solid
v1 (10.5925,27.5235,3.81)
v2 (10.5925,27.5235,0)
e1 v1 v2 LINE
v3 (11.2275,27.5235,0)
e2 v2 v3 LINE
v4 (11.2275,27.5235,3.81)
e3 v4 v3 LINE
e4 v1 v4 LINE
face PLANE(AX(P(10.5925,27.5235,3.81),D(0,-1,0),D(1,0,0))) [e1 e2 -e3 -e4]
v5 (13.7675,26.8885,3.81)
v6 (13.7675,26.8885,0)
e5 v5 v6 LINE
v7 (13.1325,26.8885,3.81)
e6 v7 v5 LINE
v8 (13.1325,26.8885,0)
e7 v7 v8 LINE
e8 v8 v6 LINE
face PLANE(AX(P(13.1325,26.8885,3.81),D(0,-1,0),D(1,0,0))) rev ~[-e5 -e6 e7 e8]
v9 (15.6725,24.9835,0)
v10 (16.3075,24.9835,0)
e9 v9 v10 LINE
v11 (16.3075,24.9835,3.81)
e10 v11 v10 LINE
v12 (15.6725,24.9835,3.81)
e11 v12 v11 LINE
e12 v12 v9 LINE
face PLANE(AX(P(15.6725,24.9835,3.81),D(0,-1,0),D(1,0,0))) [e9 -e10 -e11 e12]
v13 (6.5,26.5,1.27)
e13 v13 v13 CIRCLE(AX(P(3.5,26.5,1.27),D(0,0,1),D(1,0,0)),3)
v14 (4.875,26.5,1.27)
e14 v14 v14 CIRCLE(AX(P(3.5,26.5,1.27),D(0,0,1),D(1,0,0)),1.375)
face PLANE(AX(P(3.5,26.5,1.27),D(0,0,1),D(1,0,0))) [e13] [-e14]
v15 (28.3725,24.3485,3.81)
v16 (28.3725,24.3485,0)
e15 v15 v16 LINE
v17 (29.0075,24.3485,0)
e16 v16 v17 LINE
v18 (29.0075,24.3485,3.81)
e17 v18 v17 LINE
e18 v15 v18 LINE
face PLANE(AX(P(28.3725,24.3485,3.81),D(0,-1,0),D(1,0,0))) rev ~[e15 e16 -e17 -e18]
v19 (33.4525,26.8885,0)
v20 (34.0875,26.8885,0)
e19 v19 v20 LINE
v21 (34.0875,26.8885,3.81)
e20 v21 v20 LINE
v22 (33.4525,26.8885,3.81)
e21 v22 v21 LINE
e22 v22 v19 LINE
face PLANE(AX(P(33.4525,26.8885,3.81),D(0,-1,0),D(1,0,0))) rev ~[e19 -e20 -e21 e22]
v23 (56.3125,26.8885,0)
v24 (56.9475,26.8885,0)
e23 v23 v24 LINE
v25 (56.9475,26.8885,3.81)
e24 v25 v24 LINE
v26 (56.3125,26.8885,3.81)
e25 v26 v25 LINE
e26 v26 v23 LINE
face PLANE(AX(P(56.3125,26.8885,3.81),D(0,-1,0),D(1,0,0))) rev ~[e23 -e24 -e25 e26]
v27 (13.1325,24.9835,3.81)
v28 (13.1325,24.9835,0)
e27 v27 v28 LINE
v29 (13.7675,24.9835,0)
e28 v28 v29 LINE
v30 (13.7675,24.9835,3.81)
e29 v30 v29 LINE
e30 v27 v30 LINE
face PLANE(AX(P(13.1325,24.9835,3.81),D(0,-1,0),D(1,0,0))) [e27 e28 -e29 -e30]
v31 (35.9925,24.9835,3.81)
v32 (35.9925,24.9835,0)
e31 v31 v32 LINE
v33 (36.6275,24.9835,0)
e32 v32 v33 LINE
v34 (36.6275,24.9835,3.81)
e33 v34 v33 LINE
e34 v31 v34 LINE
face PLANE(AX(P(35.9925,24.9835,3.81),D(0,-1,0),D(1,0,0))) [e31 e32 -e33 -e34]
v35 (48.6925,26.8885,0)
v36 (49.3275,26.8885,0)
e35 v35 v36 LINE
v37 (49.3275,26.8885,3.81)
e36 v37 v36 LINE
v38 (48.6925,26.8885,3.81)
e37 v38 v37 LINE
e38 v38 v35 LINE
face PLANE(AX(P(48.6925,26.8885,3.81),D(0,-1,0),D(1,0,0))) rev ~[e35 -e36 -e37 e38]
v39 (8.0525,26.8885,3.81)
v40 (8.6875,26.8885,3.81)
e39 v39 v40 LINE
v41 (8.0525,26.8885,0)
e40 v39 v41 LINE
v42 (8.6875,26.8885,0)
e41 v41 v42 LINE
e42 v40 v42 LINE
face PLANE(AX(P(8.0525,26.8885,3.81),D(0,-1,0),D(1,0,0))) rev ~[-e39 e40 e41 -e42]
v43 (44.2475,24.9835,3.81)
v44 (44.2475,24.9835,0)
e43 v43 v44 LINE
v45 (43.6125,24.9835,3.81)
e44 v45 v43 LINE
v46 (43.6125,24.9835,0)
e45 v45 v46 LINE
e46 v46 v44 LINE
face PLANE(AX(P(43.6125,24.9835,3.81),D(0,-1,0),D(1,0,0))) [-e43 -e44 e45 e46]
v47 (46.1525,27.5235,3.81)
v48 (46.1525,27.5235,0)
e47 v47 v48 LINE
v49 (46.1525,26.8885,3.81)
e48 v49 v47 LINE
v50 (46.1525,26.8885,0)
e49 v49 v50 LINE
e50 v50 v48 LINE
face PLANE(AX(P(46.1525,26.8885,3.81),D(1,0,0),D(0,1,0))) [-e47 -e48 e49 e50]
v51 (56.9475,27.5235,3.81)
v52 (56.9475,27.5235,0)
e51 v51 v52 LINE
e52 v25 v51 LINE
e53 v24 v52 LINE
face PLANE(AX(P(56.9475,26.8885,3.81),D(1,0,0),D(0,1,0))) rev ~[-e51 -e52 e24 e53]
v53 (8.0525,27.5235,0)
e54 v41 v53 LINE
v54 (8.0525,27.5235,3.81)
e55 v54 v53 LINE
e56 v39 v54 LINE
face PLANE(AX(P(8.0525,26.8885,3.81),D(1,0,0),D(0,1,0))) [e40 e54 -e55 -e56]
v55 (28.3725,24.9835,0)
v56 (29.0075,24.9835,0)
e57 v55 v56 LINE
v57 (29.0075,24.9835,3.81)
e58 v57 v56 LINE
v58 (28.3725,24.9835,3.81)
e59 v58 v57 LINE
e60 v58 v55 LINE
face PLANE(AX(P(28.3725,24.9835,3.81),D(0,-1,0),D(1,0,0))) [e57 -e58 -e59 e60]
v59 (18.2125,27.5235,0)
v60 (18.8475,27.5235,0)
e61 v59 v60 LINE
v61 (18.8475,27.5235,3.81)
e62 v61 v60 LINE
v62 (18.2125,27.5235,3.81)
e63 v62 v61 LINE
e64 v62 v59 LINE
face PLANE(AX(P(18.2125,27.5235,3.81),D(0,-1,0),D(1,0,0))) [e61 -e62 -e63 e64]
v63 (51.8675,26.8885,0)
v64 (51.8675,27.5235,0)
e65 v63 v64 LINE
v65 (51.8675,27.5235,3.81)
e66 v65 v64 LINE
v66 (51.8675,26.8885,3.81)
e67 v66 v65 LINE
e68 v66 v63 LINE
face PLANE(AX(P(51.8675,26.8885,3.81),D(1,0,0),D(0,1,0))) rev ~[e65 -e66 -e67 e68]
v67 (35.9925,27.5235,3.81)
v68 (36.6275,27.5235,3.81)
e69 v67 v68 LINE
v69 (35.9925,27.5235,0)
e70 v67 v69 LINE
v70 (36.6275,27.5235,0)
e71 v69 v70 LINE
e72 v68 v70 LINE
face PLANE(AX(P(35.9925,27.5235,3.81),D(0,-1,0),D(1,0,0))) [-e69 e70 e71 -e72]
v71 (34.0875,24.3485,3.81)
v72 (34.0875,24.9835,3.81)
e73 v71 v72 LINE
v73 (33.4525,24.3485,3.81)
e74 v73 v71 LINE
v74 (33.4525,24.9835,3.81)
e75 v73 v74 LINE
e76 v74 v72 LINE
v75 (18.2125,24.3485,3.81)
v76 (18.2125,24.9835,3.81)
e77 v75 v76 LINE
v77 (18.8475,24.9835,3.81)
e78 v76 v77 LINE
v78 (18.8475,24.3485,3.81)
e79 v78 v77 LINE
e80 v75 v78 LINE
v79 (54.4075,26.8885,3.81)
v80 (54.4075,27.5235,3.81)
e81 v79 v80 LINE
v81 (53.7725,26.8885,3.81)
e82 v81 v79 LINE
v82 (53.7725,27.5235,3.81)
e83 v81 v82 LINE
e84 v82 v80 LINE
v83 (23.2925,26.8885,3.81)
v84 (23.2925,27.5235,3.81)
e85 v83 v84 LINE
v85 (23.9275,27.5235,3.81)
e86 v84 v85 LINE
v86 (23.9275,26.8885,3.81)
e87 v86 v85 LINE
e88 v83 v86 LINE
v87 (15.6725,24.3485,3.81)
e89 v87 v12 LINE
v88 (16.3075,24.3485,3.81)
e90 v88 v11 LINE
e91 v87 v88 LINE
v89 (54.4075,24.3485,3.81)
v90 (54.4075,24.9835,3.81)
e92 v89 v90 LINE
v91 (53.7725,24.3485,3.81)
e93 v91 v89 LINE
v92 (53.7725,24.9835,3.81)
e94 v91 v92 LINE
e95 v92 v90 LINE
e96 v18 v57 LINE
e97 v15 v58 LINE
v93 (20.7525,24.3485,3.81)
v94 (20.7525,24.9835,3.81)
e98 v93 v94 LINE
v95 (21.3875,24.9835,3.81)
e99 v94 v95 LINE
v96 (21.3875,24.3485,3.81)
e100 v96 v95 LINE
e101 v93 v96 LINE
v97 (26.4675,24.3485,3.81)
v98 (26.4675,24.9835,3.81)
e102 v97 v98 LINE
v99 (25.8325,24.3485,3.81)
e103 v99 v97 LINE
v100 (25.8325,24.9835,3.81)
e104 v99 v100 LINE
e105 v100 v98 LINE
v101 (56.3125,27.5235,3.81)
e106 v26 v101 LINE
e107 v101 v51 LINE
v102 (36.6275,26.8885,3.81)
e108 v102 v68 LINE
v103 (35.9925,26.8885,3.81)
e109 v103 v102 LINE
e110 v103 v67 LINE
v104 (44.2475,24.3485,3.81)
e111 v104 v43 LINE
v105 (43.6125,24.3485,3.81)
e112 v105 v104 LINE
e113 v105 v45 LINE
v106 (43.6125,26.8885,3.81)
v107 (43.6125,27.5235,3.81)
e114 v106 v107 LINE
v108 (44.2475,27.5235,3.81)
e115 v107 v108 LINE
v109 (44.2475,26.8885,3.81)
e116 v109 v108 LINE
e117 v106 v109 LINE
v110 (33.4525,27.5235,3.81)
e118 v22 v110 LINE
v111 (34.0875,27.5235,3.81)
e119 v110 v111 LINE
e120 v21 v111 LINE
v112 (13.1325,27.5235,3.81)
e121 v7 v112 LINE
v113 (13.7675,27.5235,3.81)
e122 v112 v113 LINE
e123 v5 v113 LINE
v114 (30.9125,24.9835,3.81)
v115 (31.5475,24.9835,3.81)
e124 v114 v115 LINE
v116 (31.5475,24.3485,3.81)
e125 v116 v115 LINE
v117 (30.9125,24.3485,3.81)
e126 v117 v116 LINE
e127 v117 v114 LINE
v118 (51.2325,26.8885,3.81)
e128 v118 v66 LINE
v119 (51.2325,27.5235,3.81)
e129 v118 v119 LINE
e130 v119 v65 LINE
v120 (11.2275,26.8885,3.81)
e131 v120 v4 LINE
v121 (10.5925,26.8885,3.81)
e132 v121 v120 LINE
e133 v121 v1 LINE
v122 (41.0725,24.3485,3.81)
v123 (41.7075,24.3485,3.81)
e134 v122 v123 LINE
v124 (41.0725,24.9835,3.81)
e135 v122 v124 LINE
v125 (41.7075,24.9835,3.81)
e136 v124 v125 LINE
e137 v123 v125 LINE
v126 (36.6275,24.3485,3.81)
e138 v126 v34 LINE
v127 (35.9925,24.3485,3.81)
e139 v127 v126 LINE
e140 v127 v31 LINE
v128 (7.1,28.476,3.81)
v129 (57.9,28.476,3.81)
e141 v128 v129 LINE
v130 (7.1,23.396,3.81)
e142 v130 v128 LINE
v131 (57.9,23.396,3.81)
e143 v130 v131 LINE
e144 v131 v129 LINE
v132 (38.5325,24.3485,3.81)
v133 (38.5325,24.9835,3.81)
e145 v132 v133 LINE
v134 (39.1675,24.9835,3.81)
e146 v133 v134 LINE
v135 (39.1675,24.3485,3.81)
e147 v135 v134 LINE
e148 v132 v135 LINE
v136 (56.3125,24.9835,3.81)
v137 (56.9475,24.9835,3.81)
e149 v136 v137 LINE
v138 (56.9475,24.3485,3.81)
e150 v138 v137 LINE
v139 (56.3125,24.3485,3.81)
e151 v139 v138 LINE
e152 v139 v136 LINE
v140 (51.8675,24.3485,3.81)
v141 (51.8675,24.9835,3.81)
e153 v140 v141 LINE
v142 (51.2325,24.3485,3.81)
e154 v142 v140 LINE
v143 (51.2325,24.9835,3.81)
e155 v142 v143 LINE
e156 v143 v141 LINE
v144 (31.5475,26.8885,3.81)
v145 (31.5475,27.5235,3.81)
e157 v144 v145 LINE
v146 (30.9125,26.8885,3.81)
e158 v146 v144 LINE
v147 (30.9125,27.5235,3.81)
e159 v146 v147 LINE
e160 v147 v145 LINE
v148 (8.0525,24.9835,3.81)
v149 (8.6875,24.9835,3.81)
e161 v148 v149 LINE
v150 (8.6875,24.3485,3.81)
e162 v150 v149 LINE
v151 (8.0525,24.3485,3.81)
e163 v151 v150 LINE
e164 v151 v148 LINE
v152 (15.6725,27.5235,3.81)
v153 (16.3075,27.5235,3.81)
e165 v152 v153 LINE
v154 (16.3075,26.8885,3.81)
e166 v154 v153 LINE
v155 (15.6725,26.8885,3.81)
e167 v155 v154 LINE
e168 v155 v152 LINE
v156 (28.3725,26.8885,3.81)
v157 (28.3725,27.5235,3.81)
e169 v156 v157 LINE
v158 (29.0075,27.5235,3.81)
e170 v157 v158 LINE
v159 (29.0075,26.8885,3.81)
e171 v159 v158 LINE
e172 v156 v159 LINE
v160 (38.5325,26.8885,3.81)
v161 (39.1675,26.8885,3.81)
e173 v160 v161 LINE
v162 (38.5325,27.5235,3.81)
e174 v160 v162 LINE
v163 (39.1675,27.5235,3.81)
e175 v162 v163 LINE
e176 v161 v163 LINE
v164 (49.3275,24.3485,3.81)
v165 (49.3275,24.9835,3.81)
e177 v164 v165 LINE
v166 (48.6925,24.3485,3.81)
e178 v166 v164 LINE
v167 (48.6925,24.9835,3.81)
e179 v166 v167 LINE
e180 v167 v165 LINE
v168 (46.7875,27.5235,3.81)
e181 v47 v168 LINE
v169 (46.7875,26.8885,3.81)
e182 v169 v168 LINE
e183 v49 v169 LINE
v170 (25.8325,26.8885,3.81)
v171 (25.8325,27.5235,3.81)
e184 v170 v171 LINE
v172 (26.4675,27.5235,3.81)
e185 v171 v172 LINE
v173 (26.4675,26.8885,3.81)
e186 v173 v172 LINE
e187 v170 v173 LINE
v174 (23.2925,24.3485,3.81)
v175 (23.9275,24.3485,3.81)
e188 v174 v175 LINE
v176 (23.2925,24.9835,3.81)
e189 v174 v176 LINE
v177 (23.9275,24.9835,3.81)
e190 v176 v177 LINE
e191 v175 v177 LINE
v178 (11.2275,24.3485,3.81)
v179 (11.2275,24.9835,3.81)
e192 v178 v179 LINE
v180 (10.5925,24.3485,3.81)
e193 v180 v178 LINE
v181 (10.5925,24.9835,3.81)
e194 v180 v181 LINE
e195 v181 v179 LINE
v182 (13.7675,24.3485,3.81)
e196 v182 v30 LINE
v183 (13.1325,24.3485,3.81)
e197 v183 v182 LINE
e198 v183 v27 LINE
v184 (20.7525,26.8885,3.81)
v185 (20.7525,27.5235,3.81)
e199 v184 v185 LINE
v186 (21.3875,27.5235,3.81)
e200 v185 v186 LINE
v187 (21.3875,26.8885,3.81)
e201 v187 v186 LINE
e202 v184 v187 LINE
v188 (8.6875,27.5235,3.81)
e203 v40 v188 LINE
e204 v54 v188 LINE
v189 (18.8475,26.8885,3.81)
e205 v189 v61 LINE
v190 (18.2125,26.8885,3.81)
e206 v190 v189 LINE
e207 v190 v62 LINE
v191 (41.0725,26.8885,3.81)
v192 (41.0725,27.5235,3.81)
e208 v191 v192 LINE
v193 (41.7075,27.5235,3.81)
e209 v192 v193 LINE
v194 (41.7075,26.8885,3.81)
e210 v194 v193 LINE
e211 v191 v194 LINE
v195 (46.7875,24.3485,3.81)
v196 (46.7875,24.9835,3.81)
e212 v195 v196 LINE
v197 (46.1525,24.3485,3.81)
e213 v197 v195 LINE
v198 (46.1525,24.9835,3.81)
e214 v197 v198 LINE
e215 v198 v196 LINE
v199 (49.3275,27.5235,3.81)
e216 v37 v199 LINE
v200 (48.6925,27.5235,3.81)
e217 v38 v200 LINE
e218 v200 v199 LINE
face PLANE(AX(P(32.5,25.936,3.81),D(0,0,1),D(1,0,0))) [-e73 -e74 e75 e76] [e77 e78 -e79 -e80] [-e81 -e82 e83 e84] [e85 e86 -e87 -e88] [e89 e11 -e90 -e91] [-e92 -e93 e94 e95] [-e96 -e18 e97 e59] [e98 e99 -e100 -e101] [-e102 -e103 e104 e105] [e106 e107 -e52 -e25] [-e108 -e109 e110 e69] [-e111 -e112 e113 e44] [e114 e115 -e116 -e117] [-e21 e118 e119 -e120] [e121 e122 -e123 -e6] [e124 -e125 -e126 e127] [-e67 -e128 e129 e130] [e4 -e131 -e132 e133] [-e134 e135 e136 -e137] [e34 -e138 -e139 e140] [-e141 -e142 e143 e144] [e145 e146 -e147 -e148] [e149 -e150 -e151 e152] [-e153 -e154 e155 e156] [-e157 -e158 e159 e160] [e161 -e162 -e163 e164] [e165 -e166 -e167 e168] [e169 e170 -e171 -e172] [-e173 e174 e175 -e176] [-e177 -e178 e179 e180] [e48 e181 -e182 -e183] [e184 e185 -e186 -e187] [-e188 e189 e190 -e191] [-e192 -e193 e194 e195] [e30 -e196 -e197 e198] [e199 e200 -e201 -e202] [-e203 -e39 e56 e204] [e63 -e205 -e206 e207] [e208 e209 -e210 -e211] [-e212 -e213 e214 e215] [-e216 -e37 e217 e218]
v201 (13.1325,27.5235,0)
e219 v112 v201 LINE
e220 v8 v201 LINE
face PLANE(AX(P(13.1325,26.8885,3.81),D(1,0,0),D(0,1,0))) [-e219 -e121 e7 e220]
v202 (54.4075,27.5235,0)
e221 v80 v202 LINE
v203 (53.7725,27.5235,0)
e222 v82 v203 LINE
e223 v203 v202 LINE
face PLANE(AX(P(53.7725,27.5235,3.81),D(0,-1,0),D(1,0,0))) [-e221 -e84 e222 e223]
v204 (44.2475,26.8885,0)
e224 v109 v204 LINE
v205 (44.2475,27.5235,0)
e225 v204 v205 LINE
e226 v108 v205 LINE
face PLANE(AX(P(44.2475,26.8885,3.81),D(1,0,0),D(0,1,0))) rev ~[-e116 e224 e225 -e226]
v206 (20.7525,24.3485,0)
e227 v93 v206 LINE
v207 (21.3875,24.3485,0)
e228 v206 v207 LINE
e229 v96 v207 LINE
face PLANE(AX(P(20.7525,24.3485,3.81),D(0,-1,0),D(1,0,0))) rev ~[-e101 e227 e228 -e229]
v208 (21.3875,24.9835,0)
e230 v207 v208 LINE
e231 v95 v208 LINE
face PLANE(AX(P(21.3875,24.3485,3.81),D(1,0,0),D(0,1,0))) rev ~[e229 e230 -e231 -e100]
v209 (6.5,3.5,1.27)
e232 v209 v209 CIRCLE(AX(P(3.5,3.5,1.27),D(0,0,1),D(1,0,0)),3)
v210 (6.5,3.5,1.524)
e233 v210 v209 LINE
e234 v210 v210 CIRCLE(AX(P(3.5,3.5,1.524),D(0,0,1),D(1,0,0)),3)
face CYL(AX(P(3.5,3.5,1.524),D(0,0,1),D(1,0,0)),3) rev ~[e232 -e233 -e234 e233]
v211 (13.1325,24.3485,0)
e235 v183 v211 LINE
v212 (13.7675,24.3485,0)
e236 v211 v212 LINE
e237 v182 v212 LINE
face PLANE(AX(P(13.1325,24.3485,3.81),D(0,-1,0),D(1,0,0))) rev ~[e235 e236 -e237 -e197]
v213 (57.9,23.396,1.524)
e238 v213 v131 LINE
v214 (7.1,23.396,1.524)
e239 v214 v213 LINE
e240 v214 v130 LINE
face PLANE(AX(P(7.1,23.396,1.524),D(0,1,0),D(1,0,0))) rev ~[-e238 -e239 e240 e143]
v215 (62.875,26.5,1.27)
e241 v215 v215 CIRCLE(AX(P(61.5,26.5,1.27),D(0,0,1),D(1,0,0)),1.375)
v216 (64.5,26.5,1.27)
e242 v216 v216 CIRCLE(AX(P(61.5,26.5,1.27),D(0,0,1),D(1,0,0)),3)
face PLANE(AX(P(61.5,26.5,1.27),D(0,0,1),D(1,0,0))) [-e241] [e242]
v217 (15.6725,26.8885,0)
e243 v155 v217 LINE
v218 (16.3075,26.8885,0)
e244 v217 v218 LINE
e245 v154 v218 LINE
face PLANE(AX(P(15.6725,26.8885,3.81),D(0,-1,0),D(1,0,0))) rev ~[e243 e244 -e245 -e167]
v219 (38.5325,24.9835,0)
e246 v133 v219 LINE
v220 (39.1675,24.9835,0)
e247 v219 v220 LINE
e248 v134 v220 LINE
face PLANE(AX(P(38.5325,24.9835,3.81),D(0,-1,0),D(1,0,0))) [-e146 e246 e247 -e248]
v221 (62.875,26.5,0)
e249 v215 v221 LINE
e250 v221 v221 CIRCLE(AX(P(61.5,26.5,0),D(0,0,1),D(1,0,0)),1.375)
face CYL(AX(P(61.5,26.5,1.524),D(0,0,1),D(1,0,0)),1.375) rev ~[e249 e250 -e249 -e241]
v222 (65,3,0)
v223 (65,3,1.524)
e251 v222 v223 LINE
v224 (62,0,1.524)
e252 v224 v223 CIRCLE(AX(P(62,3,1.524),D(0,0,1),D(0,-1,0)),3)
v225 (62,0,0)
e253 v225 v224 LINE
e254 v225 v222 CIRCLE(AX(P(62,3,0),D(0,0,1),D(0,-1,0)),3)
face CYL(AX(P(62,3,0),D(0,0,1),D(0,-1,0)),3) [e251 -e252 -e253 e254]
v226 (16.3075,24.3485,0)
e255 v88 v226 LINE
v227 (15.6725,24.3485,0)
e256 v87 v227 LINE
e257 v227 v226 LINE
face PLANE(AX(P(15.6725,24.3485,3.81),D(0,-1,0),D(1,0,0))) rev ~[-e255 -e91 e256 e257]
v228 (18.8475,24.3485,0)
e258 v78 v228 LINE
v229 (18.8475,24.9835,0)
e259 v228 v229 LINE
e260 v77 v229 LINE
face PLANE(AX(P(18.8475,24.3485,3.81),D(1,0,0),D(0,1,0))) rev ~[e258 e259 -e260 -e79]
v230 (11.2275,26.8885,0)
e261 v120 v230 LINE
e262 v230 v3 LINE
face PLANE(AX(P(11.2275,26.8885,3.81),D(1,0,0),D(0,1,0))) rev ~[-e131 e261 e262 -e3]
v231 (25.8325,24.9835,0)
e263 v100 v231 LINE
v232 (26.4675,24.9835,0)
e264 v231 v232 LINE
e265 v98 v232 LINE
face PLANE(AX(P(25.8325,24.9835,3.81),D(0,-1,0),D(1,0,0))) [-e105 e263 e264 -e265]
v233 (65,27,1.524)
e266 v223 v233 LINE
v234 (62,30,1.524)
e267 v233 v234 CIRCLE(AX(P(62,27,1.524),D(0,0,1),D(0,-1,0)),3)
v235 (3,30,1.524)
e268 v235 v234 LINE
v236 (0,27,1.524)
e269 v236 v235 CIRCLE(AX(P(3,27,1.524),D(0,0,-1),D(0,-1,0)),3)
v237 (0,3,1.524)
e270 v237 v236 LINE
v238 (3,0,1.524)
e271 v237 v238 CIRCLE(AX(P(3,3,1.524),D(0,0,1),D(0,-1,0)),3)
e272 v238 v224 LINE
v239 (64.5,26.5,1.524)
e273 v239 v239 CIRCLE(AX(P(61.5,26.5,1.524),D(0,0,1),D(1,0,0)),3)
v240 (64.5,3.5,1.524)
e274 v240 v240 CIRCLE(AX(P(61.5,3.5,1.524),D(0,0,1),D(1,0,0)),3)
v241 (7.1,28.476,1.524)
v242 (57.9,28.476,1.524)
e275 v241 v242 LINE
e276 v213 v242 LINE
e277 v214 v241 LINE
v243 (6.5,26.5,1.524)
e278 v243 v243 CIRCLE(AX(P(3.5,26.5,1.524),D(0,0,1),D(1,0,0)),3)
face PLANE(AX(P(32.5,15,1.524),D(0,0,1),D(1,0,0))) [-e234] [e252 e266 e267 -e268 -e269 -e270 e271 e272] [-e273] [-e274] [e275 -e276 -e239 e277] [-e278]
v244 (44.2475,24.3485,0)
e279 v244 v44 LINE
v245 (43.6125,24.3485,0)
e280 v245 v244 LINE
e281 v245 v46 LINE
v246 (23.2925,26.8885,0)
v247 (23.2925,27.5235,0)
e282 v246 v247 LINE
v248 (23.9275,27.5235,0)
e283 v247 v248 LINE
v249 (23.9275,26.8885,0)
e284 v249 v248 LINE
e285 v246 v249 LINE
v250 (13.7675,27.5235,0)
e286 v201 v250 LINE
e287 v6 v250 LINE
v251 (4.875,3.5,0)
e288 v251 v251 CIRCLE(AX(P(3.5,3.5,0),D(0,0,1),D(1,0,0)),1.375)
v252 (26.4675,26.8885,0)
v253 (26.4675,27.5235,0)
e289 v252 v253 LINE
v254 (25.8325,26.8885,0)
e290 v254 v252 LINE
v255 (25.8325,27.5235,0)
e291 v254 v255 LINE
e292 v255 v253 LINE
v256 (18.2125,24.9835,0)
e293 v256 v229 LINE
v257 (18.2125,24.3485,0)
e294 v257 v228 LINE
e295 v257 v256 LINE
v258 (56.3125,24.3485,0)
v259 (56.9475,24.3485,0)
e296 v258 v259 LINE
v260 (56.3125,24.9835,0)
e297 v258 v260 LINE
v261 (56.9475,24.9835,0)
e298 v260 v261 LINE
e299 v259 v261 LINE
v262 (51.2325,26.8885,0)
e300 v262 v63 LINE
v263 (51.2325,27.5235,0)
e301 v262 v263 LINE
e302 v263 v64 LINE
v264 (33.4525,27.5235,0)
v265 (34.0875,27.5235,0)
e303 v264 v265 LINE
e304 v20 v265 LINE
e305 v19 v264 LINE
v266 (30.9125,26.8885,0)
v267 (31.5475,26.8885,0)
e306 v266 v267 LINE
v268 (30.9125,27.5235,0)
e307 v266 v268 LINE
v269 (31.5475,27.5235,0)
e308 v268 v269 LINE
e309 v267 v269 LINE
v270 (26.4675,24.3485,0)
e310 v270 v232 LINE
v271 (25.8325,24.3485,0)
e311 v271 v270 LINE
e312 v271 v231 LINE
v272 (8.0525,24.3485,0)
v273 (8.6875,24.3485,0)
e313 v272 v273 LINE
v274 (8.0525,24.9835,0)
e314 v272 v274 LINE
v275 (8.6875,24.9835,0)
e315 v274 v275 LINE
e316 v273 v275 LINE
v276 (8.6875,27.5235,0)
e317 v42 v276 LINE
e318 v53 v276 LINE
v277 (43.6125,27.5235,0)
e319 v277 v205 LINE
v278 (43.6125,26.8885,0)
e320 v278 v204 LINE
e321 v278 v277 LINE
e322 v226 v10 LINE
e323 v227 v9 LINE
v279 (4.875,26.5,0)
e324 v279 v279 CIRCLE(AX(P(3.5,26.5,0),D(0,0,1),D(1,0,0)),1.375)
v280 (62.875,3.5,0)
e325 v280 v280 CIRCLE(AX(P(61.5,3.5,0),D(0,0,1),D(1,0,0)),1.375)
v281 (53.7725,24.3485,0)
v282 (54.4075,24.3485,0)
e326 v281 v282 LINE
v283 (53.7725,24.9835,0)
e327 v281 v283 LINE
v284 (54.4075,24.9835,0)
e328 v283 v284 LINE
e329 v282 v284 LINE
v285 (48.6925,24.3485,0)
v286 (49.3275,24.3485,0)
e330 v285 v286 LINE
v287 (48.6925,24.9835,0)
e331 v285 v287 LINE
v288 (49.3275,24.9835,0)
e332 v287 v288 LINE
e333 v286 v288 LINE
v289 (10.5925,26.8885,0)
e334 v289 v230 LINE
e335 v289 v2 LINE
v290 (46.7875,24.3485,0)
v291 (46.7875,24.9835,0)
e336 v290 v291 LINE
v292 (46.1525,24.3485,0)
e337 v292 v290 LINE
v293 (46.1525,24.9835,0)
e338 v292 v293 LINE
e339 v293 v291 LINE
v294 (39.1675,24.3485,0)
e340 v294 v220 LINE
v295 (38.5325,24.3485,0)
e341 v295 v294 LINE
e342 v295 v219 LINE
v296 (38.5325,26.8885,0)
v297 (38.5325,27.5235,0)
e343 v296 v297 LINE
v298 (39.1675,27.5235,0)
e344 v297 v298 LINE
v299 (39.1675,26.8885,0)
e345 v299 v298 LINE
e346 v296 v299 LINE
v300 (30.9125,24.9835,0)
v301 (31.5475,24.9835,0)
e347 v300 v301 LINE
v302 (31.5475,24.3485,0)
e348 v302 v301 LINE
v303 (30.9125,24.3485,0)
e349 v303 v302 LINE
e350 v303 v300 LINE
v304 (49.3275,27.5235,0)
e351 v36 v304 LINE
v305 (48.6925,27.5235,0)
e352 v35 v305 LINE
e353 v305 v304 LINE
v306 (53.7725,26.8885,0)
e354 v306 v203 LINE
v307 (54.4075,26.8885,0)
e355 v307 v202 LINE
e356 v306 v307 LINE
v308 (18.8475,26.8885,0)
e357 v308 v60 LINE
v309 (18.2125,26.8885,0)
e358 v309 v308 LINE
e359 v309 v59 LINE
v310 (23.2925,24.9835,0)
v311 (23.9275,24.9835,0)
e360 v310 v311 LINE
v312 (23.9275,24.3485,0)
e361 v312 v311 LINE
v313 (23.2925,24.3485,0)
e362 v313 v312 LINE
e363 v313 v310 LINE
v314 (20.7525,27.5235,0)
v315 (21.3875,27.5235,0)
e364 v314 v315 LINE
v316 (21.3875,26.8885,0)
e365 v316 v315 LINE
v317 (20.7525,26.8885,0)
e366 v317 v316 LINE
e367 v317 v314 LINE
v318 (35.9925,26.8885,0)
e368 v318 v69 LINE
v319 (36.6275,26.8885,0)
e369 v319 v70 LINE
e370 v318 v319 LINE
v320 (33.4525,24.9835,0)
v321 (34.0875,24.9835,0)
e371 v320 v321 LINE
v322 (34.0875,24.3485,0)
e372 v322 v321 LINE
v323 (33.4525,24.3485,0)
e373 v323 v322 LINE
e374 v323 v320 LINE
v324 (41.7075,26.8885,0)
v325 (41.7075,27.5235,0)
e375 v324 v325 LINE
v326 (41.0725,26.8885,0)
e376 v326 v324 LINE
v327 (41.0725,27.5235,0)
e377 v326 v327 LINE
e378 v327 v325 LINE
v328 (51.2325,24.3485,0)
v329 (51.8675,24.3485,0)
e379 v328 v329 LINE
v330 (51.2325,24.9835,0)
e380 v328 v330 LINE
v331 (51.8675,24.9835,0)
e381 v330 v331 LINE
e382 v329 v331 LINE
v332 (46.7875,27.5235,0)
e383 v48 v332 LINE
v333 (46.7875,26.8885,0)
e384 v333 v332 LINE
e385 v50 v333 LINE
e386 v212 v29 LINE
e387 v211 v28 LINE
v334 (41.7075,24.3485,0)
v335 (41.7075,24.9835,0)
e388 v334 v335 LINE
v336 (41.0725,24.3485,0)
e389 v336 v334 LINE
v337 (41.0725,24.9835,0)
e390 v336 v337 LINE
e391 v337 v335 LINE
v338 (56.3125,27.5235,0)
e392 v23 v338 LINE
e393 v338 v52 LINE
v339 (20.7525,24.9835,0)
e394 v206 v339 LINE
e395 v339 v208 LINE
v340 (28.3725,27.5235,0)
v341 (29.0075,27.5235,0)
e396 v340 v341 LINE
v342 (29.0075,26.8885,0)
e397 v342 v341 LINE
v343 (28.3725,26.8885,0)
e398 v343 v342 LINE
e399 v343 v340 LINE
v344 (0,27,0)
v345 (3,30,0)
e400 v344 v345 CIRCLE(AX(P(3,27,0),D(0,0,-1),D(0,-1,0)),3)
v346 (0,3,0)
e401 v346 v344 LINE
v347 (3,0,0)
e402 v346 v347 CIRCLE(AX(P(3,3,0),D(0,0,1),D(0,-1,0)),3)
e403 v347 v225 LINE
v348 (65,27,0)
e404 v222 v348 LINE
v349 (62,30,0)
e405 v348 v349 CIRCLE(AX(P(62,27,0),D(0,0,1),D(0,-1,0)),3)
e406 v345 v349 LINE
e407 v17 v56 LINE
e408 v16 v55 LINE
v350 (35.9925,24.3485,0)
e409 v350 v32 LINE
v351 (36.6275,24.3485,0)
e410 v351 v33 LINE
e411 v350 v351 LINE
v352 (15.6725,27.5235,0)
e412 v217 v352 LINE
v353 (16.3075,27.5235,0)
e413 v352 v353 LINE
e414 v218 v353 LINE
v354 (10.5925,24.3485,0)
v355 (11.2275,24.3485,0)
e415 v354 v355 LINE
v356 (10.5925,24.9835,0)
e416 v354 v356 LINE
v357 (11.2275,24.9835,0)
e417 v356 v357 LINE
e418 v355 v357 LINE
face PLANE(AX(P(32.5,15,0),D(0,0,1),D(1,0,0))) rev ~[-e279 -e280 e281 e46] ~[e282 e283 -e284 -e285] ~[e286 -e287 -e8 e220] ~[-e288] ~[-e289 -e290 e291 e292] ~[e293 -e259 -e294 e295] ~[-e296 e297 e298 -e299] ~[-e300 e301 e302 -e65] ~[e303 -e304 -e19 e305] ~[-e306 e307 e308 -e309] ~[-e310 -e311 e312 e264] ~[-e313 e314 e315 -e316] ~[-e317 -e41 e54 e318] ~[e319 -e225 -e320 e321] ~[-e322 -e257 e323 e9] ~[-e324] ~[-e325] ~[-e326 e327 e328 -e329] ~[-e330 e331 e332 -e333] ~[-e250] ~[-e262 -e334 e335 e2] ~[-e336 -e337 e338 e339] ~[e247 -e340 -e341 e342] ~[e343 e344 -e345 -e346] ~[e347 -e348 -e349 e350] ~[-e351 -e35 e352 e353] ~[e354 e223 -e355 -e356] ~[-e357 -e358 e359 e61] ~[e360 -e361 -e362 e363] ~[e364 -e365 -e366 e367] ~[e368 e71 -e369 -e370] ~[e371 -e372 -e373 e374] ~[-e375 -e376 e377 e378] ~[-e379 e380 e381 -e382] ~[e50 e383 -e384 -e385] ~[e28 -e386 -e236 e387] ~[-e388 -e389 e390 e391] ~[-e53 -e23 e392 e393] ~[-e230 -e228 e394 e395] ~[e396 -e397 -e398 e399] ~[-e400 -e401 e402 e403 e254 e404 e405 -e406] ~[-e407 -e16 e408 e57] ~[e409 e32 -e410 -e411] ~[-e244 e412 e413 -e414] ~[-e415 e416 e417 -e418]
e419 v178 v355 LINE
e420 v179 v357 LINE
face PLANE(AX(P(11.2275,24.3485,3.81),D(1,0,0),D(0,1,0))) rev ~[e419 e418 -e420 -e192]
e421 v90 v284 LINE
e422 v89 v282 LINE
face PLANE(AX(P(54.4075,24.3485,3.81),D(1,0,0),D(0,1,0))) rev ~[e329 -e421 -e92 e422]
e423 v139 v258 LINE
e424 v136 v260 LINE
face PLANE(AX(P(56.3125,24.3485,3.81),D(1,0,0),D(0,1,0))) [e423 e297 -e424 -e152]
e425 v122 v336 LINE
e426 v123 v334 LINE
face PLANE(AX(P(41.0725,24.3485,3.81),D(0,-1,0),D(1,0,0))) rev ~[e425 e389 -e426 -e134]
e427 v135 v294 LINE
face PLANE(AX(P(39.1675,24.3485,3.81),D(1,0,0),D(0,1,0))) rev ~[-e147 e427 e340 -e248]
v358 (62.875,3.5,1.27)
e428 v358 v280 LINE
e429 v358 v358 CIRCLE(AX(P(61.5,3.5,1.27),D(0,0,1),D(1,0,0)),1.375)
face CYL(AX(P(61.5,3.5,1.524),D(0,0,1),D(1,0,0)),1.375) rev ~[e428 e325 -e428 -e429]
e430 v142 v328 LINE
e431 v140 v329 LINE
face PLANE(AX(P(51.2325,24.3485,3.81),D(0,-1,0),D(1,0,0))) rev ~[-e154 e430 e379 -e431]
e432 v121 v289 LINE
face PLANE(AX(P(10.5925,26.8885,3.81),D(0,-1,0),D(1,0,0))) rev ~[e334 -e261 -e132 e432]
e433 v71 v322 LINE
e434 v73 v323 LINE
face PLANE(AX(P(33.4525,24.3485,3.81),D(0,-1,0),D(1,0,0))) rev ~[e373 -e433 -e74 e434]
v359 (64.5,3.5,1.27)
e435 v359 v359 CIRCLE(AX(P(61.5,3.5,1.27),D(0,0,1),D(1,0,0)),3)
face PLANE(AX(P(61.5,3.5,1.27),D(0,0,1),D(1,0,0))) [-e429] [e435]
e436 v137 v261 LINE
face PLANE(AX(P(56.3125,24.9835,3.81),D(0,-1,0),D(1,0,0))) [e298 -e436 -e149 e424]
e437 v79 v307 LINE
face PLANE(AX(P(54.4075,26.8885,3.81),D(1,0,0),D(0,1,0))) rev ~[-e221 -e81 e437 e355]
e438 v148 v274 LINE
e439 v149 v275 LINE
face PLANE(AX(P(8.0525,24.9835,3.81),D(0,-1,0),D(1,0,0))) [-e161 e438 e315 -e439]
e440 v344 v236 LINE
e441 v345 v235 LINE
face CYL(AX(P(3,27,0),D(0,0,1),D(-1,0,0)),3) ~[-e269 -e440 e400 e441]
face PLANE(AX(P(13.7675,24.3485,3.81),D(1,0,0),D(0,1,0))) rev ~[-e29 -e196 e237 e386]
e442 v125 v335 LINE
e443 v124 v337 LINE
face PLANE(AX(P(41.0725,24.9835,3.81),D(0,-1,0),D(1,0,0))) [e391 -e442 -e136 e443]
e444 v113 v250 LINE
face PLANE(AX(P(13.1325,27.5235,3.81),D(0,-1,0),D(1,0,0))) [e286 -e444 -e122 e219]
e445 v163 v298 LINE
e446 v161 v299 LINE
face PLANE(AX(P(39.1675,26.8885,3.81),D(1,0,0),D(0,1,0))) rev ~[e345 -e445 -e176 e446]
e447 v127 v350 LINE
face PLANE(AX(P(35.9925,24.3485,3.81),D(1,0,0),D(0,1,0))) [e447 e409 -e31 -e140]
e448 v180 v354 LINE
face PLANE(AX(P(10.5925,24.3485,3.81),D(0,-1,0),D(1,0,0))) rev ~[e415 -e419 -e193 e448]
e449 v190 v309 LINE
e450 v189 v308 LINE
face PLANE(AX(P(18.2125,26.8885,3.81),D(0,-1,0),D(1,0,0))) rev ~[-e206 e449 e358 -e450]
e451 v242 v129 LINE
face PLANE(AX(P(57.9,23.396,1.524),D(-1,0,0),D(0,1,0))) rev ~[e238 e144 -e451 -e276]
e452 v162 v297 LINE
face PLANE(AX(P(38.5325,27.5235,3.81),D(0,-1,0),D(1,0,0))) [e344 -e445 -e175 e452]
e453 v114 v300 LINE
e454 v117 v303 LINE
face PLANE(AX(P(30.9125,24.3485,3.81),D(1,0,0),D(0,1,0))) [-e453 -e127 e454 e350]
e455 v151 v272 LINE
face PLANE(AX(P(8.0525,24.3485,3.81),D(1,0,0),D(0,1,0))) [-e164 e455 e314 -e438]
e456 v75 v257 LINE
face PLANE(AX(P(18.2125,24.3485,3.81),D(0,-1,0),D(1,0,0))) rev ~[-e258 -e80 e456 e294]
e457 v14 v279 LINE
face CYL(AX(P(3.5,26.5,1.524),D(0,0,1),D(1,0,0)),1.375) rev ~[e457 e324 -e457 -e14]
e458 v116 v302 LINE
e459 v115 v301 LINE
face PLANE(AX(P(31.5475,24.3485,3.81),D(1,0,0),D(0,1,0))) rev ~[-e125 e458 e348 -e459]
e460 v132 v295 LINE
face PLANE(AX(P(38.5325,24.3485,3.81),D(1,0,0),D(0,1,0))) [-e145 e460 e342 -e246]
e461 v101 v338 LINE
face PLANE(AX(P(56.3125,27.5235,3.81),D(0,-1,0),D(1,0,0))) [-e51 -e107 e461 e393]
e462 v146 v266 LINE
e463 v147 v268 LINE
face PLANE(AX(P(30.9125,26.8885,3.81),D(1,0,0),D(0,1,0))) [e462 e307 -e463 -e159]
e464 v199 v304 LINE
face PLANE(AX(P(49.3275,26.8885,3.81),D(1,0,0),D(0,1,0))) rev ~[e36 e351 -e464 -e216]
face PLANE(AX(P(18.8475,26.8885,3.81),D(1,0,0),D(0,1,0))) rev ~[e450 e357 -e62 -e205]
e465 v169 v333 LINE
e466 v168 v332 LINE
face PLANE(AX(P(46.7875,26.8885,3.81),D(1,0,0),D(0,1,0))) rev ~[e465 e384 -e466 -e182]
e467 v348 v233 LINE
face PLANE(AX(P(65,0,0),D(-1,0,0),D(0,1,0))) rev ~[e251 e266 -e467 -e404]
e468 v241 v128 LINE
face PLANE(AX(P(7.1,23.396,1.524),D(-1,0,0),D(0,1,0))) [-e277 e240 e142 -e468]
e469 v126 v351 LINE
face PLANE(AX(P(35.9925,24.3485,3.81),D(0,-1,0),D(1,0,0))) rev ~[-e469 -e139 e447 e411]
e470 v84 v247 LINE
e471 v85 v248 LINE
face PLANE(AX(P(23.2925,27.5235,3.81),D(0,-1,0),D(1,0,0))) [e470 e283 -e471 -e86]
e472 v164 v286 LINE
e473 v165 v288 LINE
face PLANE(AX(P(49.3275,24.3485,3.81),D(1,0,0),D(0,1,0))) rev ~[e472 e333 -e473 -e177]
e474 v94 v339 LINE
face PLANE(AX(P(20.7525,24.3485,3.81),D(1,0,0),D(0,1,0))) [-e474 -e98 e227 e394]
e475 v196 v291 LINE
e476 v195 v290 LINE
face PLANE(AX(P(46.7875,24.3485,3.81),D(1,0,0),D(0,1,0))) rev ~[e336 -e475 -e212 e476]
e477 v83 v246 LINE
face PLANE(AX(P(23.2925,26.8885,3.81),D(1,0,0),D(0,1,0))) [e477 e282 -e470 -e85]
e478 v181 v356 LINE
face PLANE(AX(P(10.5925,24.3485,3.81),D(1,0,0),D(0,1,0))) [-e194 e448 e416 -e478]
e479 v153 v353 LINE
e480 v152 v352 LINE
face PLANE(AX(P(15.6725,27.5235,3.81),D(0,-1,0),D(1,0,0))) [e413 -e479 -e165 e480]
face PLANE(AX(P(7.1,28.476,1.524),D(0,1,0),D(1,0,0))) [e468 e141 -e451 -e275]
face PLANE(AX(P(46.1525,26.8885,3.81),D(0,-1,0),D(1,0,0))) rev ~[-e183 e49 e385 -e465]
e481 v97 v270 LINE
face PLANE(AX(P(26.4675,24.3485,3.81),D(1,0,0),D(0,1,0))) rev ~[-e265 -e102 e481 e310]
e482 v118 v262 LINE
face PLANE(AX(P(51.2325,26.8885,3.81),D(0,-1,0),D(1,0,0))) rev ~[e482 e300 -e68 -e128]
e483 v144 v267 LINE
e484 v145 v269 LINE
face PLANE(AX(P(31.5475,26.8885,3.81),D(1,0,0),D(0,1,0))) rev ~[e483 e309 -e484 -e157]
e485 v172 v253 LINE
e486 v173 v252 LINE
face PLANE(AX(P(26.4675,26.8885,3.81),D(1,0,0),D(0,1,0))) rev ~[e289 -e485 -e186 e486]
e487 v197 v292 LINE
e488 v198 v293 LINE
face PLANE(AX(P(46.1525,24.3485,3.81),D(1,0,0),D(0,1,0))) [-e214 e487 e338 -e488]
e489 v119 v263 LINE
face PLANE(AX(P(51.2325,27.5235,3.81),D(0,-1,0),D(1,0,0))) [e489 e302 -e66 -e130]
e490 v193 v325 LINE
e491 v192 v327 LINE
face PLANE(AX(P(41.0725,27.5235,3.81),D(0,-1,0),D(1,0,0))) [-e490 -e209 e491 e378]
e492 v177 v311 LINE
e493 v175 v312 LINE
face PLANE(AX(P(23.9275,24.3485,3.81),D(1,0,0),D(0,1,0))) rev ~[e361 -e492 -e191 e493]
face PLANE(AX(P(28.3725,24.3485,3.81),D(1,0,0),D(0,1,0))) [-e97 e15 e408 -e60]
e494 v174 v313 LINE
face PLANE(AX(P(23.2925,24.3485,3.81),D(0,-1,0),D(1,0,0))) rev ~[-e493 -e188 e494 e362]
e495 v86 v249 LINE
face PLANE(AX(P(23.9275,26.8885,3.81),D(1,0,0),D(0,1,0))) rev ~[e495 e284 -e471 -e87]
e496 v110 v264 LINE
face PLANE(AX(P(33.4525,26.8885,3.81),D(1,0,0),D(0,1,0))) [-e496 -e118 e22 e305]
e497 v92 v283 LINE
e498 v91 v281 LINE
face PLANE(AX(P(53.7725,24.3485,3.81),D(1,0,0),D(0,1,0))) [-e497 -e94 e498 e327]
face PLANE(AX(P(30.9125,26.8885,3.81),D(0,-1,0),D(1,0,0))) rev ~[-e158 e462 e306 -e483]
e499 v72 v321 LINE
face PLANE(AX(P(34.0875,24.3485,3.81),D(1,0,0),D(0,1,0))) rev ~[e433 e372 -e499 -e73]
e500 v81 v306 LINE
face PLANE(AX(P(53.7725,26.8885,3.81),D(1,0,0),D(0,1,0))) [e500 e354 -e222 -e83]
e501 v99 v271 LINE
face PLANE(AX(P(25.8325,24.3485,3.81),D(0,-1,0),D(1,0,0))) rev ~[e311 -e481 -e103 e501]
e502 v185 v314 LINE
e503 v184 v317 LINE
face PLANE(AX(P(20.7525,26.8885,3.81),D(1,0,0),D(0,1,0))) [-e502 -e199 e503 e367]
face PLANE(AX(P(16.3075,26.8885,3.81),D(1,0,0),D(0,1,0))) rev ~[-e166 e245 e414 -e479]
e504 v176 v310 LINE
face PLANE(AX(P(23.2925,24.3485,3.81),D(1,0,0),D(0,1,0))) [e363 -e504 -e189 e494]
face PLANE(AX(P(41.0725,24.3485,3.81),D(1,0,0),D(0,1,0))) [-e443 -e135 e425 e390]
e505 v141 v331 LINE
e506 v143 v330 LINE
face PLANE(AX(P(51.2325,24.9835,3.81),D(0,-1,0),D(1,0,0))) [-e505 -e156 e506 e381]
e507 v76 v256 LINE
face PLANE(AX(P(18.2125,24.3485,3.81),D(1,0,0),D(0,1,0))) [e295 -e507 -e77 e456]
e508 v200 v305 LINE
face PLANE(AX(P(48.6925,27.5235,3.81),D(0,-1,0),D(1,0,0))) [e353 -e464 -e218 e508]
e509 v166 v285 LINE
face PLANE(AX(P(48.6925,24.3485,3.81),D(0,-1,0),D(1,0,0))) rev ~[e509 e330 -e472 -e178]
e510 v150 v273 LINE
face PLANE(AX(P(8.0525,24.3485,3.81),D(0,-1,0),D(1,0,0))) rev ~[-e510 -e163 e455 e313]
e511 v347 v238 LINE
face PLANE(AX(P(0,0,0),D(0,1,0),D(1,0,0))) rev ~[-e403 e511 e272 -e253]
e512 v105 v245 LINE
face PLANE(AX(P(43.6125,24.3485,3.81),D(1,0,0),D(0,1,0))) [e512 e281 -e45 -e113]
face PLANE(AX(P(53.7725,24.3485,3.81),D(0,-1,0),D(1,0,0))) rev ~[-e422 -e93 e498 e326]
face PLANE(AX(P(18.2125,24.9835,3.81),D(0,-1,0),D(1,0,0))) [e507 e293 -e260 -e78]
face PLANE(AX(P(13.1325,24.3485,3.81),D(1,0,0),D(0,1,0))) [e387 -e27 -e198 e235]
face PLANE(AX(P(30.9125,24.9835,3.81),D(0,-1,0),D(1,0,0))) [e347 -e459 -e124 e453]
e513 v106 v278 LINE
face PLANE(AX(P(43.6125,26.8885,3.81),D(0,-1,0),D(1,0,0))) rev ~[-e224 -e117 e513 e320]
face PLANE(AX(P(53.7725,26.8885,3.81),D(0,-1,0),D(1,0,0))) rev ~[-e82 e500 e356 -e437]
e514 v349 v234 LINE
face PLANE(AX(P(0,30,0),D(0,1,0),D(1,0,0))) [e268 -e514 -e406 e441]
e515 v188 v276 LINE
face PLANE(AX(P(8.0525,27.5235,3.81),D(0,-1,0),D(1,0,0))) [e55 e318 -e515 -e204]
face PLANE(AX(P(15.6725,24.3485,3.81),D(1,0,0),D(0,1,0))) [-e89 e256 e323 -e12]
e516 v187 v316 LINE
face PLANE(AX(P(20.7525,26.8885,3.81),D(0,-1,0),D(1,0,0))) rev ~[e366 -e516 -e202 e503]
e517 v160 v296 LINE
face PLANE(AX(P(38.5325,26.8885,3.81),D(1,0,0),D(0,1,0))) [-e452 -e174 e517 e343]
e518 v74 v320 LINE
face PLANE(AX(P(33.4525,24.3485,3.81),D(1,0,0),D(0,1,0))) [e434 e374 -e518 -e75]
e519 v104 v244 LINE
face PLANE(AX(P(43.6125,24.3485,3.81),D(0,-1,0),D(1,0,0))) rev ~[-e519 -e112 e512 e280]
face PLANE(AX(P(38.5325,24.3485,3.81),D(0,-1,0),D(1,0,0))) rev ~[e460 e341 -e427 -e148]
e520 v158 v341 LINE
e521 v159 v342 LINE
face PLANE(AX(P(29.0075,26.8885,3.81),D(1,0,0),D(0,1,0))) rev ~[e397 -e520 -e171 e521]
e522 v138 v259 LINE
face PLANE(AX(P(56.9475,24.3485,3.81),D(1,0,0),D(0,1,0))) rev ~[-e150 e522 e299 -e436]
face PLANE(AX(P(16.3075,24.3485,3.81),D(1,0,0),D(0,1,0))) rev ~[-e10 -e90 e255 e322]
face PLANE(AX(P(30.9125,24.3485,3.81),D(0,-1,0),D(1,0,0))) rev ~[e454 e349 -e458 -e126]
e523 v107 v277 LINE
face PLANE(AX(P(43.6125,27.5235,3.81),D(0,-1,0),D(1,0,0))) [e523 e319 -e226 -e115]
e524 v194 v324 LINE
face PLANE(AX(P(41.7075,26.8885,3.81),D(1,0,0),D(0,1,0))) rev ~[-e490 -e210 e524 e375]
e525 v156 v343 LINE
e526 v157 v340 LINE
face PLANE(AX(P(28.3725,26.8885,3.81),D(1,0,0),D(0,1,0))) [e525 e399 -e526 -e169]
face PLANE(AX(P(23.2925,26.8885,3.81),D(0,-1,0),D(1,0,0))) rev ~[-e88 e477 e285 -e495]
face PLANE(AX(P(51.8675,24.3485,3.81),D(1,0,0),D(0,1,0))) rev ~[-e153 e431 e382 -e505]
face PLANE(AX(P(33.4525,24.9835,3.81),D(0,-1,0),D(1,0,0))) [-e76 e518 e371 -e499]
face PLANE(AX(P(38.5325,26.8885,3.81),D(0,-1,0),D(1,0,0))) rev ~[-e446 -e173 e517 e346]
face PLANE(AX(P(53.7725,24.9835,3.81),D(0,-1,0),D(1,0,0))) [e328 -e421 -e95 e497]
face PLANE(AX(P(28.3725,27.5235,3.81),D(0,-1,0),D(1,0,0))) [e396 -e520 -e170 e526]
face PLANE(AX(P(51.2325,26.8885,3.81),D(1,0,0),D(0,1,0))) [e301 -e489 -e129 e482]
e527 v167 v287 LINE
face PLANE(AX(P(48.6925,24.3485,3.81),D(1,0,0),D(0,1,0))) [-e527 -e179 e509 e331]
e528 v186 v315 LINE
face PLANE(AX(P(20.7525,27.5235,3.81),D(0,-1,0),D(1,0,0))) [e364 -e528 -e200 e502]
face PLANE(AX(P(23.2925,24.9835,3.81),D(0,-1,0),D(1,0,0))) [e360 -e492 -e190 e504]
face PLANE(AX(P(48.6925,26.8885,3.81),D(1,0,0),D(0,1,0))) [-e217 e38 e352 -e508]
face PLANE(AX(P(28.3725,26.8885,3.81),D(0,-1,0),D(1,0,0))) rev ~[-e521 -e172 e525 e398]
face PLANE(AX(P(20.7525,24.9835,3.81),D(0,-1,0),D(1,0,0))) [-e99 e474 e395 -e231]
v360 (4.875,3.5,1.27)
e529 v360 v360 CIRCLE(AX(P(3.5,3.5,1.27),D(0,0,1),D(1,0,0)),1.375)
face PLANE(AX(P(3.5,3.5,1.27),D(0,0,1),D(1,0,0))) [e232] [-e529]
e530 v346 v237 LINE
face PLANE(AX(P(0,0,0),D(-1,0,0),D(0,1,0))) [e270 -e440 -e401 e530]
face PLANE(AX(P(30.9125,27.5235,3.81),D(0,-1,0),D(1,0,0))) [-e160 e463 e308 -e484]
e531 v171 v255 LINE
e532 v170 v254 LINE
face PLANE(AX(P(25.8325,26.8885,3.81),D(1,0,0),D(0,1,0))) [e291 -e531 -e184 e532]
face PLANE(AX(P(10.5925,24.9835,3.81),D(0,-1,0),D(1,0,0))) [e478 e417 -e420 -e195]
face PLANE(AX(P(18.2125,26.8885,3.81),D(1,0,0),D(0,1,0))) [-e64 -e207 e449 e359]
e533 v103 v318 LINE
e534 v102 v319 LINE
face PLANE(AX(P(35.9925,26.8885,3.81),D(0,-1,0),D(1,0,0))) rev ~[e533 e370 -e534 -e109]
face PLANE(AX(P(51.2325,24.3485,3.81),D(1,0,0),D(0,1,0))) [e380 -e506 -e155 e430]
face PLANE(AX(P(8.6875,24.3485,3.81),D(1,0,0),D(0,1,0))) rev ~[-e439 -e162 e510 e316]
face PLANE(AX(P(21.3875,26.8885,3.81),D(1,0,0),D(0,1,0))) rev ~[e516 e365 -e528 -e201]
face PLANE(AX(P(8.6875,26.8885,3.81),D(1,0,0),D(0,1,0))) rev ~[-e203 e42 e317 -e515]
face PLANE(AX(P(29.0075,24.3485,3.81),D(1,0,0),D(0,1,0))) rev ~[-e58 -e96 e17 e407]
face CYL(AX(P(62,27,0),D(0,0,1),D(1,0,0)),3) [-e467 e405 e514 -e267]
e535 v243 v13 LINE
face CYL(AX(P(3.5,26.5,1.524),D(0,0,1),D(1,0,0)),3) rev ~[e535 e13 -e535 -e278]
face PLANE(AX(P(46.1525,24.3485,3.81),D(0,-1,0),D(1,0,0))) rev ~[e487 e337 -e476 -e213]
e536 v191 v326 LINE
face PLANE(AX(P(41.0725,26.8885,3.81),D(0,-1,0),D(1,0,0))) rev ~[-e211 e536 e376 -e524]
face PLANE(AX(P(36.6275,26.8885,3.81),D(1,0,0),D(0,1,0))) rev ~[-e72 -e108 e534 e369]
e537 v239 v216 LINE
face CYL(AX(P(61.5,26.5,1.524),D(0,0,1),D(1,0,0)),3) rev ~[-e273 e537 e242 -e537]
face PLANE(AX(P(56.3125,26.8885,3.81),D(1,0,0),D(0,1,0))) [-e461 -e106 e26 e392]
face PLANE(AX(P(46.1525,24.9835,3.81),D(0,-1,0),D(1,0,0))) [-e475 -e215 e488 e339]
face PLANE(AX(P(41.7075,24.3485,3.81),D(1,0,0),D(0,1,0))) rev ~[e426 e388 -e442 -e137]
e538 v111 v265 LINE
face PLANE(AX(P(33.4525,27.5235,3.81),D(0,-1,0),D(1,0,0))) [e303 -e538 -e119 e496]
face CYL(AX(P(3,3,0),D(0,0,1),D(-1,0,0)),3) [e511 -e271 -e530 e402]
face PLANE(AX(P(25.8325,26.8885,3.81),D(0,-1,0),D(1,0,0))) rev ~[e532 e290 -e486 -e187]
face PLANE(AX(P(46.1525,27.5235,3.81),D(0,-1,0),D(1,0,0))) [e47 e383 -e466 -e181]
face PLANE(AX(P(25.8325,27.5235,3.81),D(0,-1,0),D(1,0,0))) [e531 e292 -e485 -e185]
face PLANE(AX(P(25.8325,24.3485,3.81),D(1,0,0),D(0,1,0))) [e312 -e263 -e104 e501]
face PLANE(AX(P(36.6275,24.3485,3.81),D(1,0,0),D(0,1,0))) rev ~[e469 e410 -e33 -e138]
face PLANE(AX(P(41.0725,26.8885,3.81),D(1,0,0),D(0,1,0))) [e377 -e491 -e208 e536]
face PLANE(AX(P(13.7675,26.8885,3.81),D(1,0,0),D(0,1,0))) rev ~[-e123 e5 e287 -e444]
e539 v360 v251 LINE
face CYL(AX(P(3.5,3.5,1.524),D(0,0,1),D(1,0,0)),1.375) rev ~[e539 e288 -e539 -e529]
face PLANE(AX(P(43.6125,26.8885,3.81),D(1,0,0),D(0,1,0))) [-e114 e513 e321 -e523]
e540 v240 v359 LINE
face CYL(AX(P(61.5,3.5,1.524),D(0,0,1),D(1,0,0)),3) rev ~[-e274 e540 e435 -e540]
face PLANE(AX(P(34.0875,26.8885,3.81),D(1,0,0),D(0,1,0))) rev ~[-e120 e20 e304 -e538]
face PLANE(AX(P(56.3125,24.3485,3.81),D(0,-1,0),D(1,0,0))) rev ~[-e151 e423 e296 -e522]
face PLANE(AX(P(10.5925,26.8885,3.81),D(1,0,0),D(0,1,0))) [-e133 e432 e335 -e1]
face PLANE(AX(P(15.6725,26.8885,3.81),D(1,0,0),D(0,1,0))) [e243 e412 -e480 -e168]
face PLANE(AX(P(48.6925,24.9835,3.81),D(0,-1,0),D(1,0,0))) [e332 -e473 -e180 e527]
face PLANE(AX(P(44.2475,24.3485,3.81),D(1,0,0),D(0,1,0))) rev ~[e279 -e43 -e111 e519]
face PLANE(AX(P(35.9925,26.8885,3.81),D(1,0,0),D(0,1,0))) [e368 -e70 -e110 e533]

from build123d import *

# Parameters (mm, degrees)
SKETCH1_W           = 65
SKETCH1_H           = 30
BOSS_EXTRUDE1_DEPTH = 1.524
FILLET1_R           = 3
SKETCH2_R           = 1.375
CUT_EXTRUDE1_DEPTH  = 72.605325053
SKETCH3_R           = 3
CUT_EXTRUDE2_DEPTH  = 0.254
SKETCH8_W           = 50.8
SKETCH8_H           = 5.08
BOSS_EXTRUDE8_DEPTH = 2.286
SKETCH9_W           = 0.635
SKETCH9_H           = 0.635
CUT_EXTRUDE3_DEPTH  = 72.690418467
LPATTERN1_COUNT     = 20
LPATTERN1_PITCH     = 2.54


with BuildPart() as part:
    # Sketch1 → Boss-Extrude1 (new body)
    with BuildSketch(Plane.XY):
        with Locations((32.5, 15)):
            Rectangle(SKETCH1_W, SKETCH1_H)
    extrude(amount=BOSS_EXTRUDE1_DEPTH)

    # Fillet1
    fillet1_edges = [part.edges().sort_by_distance(p)[0] for p in [
        (0, 30, 0.762),
        (65, 30, 0.762),
        (65, 0, 0.762),
        (0, 0, 0.762),
    ]]
    fillet(fillet1_edges, radius=FILLET1_R)

    # Sketch2 → Cut-Extrude1 (cut, through all)
    with BuildSketch(Plane.XY.offset(1.524)):
        with Locations((3.5, 26.5)):
            Circle(SKETCH2_R)
        with Locations((61.5, 26.5)):
            Circle(SKETCH2_R)
        with Locations((61.5, 3.5)):
            Circle(SKETCH2_R)
        with Locations((3.5, 3.5)):
            Circle(SKETCH2_R)
    extrude(amount=-CUT_EXTRUDE1_DEPTH, mode=Mode.SUBTRACT)

    # Sketch3 → Cut-Extrude2 (cut)
    with BuildSketch(Plane.XY.offset(1.524)):
        with Locations((3.5, 26.5)):
            Circle(SKETCH3_R)
        with Locations((61.5, 26.5)):
            Circle(SKETCH3_R)
        with Locations((61.5, 3.5)):
            Circle(SKETCH3_R)
        with Locations((3.5, 3.5)):
            Circle(SKETCH3_R)
    extrude(amount=-CUT_EXTRUDE2_DEPTH, mode=Mode.SUBTRACT)

    # Sketch8 → Boss-Extrude8 (add)
    with BuildSketch(Plane.XY.offset(1.524)):
        with Locations((32.5, 25.936)):
            Rectangle(SKETCH8_W, SKETCH8_H)
    extrude(amount=BOSS_EXTRUDE8_DEPTH)

    # Sketch9 → Cut-Extrude3 (cut, through all)
    with BuildSketch(Plane.XY.offset(3.81)):
        with Locations((8.37, 27.206)):
            Rectangle(SKETCH9_W, SKETCH9_H)
        with Locations((8.37, 24.666)):
            Rectangle(SKETCH9_W, SKETCH9_H)
    cut_extrude3 = extrude(amount=-CUT_EXTRUDE3_DEPTH, mode=Mode.SUBTRACT)

    # LPattern1: Cut-Extrude3 ×20
    with Locations(*[(i * LPATTERN1_PITCH, 0, 0) for i in range(1, LPATTERN1_COUNT)]):
        add(cut_extrude3, mode=Mode.SUBTRACT)


solid = part.part
